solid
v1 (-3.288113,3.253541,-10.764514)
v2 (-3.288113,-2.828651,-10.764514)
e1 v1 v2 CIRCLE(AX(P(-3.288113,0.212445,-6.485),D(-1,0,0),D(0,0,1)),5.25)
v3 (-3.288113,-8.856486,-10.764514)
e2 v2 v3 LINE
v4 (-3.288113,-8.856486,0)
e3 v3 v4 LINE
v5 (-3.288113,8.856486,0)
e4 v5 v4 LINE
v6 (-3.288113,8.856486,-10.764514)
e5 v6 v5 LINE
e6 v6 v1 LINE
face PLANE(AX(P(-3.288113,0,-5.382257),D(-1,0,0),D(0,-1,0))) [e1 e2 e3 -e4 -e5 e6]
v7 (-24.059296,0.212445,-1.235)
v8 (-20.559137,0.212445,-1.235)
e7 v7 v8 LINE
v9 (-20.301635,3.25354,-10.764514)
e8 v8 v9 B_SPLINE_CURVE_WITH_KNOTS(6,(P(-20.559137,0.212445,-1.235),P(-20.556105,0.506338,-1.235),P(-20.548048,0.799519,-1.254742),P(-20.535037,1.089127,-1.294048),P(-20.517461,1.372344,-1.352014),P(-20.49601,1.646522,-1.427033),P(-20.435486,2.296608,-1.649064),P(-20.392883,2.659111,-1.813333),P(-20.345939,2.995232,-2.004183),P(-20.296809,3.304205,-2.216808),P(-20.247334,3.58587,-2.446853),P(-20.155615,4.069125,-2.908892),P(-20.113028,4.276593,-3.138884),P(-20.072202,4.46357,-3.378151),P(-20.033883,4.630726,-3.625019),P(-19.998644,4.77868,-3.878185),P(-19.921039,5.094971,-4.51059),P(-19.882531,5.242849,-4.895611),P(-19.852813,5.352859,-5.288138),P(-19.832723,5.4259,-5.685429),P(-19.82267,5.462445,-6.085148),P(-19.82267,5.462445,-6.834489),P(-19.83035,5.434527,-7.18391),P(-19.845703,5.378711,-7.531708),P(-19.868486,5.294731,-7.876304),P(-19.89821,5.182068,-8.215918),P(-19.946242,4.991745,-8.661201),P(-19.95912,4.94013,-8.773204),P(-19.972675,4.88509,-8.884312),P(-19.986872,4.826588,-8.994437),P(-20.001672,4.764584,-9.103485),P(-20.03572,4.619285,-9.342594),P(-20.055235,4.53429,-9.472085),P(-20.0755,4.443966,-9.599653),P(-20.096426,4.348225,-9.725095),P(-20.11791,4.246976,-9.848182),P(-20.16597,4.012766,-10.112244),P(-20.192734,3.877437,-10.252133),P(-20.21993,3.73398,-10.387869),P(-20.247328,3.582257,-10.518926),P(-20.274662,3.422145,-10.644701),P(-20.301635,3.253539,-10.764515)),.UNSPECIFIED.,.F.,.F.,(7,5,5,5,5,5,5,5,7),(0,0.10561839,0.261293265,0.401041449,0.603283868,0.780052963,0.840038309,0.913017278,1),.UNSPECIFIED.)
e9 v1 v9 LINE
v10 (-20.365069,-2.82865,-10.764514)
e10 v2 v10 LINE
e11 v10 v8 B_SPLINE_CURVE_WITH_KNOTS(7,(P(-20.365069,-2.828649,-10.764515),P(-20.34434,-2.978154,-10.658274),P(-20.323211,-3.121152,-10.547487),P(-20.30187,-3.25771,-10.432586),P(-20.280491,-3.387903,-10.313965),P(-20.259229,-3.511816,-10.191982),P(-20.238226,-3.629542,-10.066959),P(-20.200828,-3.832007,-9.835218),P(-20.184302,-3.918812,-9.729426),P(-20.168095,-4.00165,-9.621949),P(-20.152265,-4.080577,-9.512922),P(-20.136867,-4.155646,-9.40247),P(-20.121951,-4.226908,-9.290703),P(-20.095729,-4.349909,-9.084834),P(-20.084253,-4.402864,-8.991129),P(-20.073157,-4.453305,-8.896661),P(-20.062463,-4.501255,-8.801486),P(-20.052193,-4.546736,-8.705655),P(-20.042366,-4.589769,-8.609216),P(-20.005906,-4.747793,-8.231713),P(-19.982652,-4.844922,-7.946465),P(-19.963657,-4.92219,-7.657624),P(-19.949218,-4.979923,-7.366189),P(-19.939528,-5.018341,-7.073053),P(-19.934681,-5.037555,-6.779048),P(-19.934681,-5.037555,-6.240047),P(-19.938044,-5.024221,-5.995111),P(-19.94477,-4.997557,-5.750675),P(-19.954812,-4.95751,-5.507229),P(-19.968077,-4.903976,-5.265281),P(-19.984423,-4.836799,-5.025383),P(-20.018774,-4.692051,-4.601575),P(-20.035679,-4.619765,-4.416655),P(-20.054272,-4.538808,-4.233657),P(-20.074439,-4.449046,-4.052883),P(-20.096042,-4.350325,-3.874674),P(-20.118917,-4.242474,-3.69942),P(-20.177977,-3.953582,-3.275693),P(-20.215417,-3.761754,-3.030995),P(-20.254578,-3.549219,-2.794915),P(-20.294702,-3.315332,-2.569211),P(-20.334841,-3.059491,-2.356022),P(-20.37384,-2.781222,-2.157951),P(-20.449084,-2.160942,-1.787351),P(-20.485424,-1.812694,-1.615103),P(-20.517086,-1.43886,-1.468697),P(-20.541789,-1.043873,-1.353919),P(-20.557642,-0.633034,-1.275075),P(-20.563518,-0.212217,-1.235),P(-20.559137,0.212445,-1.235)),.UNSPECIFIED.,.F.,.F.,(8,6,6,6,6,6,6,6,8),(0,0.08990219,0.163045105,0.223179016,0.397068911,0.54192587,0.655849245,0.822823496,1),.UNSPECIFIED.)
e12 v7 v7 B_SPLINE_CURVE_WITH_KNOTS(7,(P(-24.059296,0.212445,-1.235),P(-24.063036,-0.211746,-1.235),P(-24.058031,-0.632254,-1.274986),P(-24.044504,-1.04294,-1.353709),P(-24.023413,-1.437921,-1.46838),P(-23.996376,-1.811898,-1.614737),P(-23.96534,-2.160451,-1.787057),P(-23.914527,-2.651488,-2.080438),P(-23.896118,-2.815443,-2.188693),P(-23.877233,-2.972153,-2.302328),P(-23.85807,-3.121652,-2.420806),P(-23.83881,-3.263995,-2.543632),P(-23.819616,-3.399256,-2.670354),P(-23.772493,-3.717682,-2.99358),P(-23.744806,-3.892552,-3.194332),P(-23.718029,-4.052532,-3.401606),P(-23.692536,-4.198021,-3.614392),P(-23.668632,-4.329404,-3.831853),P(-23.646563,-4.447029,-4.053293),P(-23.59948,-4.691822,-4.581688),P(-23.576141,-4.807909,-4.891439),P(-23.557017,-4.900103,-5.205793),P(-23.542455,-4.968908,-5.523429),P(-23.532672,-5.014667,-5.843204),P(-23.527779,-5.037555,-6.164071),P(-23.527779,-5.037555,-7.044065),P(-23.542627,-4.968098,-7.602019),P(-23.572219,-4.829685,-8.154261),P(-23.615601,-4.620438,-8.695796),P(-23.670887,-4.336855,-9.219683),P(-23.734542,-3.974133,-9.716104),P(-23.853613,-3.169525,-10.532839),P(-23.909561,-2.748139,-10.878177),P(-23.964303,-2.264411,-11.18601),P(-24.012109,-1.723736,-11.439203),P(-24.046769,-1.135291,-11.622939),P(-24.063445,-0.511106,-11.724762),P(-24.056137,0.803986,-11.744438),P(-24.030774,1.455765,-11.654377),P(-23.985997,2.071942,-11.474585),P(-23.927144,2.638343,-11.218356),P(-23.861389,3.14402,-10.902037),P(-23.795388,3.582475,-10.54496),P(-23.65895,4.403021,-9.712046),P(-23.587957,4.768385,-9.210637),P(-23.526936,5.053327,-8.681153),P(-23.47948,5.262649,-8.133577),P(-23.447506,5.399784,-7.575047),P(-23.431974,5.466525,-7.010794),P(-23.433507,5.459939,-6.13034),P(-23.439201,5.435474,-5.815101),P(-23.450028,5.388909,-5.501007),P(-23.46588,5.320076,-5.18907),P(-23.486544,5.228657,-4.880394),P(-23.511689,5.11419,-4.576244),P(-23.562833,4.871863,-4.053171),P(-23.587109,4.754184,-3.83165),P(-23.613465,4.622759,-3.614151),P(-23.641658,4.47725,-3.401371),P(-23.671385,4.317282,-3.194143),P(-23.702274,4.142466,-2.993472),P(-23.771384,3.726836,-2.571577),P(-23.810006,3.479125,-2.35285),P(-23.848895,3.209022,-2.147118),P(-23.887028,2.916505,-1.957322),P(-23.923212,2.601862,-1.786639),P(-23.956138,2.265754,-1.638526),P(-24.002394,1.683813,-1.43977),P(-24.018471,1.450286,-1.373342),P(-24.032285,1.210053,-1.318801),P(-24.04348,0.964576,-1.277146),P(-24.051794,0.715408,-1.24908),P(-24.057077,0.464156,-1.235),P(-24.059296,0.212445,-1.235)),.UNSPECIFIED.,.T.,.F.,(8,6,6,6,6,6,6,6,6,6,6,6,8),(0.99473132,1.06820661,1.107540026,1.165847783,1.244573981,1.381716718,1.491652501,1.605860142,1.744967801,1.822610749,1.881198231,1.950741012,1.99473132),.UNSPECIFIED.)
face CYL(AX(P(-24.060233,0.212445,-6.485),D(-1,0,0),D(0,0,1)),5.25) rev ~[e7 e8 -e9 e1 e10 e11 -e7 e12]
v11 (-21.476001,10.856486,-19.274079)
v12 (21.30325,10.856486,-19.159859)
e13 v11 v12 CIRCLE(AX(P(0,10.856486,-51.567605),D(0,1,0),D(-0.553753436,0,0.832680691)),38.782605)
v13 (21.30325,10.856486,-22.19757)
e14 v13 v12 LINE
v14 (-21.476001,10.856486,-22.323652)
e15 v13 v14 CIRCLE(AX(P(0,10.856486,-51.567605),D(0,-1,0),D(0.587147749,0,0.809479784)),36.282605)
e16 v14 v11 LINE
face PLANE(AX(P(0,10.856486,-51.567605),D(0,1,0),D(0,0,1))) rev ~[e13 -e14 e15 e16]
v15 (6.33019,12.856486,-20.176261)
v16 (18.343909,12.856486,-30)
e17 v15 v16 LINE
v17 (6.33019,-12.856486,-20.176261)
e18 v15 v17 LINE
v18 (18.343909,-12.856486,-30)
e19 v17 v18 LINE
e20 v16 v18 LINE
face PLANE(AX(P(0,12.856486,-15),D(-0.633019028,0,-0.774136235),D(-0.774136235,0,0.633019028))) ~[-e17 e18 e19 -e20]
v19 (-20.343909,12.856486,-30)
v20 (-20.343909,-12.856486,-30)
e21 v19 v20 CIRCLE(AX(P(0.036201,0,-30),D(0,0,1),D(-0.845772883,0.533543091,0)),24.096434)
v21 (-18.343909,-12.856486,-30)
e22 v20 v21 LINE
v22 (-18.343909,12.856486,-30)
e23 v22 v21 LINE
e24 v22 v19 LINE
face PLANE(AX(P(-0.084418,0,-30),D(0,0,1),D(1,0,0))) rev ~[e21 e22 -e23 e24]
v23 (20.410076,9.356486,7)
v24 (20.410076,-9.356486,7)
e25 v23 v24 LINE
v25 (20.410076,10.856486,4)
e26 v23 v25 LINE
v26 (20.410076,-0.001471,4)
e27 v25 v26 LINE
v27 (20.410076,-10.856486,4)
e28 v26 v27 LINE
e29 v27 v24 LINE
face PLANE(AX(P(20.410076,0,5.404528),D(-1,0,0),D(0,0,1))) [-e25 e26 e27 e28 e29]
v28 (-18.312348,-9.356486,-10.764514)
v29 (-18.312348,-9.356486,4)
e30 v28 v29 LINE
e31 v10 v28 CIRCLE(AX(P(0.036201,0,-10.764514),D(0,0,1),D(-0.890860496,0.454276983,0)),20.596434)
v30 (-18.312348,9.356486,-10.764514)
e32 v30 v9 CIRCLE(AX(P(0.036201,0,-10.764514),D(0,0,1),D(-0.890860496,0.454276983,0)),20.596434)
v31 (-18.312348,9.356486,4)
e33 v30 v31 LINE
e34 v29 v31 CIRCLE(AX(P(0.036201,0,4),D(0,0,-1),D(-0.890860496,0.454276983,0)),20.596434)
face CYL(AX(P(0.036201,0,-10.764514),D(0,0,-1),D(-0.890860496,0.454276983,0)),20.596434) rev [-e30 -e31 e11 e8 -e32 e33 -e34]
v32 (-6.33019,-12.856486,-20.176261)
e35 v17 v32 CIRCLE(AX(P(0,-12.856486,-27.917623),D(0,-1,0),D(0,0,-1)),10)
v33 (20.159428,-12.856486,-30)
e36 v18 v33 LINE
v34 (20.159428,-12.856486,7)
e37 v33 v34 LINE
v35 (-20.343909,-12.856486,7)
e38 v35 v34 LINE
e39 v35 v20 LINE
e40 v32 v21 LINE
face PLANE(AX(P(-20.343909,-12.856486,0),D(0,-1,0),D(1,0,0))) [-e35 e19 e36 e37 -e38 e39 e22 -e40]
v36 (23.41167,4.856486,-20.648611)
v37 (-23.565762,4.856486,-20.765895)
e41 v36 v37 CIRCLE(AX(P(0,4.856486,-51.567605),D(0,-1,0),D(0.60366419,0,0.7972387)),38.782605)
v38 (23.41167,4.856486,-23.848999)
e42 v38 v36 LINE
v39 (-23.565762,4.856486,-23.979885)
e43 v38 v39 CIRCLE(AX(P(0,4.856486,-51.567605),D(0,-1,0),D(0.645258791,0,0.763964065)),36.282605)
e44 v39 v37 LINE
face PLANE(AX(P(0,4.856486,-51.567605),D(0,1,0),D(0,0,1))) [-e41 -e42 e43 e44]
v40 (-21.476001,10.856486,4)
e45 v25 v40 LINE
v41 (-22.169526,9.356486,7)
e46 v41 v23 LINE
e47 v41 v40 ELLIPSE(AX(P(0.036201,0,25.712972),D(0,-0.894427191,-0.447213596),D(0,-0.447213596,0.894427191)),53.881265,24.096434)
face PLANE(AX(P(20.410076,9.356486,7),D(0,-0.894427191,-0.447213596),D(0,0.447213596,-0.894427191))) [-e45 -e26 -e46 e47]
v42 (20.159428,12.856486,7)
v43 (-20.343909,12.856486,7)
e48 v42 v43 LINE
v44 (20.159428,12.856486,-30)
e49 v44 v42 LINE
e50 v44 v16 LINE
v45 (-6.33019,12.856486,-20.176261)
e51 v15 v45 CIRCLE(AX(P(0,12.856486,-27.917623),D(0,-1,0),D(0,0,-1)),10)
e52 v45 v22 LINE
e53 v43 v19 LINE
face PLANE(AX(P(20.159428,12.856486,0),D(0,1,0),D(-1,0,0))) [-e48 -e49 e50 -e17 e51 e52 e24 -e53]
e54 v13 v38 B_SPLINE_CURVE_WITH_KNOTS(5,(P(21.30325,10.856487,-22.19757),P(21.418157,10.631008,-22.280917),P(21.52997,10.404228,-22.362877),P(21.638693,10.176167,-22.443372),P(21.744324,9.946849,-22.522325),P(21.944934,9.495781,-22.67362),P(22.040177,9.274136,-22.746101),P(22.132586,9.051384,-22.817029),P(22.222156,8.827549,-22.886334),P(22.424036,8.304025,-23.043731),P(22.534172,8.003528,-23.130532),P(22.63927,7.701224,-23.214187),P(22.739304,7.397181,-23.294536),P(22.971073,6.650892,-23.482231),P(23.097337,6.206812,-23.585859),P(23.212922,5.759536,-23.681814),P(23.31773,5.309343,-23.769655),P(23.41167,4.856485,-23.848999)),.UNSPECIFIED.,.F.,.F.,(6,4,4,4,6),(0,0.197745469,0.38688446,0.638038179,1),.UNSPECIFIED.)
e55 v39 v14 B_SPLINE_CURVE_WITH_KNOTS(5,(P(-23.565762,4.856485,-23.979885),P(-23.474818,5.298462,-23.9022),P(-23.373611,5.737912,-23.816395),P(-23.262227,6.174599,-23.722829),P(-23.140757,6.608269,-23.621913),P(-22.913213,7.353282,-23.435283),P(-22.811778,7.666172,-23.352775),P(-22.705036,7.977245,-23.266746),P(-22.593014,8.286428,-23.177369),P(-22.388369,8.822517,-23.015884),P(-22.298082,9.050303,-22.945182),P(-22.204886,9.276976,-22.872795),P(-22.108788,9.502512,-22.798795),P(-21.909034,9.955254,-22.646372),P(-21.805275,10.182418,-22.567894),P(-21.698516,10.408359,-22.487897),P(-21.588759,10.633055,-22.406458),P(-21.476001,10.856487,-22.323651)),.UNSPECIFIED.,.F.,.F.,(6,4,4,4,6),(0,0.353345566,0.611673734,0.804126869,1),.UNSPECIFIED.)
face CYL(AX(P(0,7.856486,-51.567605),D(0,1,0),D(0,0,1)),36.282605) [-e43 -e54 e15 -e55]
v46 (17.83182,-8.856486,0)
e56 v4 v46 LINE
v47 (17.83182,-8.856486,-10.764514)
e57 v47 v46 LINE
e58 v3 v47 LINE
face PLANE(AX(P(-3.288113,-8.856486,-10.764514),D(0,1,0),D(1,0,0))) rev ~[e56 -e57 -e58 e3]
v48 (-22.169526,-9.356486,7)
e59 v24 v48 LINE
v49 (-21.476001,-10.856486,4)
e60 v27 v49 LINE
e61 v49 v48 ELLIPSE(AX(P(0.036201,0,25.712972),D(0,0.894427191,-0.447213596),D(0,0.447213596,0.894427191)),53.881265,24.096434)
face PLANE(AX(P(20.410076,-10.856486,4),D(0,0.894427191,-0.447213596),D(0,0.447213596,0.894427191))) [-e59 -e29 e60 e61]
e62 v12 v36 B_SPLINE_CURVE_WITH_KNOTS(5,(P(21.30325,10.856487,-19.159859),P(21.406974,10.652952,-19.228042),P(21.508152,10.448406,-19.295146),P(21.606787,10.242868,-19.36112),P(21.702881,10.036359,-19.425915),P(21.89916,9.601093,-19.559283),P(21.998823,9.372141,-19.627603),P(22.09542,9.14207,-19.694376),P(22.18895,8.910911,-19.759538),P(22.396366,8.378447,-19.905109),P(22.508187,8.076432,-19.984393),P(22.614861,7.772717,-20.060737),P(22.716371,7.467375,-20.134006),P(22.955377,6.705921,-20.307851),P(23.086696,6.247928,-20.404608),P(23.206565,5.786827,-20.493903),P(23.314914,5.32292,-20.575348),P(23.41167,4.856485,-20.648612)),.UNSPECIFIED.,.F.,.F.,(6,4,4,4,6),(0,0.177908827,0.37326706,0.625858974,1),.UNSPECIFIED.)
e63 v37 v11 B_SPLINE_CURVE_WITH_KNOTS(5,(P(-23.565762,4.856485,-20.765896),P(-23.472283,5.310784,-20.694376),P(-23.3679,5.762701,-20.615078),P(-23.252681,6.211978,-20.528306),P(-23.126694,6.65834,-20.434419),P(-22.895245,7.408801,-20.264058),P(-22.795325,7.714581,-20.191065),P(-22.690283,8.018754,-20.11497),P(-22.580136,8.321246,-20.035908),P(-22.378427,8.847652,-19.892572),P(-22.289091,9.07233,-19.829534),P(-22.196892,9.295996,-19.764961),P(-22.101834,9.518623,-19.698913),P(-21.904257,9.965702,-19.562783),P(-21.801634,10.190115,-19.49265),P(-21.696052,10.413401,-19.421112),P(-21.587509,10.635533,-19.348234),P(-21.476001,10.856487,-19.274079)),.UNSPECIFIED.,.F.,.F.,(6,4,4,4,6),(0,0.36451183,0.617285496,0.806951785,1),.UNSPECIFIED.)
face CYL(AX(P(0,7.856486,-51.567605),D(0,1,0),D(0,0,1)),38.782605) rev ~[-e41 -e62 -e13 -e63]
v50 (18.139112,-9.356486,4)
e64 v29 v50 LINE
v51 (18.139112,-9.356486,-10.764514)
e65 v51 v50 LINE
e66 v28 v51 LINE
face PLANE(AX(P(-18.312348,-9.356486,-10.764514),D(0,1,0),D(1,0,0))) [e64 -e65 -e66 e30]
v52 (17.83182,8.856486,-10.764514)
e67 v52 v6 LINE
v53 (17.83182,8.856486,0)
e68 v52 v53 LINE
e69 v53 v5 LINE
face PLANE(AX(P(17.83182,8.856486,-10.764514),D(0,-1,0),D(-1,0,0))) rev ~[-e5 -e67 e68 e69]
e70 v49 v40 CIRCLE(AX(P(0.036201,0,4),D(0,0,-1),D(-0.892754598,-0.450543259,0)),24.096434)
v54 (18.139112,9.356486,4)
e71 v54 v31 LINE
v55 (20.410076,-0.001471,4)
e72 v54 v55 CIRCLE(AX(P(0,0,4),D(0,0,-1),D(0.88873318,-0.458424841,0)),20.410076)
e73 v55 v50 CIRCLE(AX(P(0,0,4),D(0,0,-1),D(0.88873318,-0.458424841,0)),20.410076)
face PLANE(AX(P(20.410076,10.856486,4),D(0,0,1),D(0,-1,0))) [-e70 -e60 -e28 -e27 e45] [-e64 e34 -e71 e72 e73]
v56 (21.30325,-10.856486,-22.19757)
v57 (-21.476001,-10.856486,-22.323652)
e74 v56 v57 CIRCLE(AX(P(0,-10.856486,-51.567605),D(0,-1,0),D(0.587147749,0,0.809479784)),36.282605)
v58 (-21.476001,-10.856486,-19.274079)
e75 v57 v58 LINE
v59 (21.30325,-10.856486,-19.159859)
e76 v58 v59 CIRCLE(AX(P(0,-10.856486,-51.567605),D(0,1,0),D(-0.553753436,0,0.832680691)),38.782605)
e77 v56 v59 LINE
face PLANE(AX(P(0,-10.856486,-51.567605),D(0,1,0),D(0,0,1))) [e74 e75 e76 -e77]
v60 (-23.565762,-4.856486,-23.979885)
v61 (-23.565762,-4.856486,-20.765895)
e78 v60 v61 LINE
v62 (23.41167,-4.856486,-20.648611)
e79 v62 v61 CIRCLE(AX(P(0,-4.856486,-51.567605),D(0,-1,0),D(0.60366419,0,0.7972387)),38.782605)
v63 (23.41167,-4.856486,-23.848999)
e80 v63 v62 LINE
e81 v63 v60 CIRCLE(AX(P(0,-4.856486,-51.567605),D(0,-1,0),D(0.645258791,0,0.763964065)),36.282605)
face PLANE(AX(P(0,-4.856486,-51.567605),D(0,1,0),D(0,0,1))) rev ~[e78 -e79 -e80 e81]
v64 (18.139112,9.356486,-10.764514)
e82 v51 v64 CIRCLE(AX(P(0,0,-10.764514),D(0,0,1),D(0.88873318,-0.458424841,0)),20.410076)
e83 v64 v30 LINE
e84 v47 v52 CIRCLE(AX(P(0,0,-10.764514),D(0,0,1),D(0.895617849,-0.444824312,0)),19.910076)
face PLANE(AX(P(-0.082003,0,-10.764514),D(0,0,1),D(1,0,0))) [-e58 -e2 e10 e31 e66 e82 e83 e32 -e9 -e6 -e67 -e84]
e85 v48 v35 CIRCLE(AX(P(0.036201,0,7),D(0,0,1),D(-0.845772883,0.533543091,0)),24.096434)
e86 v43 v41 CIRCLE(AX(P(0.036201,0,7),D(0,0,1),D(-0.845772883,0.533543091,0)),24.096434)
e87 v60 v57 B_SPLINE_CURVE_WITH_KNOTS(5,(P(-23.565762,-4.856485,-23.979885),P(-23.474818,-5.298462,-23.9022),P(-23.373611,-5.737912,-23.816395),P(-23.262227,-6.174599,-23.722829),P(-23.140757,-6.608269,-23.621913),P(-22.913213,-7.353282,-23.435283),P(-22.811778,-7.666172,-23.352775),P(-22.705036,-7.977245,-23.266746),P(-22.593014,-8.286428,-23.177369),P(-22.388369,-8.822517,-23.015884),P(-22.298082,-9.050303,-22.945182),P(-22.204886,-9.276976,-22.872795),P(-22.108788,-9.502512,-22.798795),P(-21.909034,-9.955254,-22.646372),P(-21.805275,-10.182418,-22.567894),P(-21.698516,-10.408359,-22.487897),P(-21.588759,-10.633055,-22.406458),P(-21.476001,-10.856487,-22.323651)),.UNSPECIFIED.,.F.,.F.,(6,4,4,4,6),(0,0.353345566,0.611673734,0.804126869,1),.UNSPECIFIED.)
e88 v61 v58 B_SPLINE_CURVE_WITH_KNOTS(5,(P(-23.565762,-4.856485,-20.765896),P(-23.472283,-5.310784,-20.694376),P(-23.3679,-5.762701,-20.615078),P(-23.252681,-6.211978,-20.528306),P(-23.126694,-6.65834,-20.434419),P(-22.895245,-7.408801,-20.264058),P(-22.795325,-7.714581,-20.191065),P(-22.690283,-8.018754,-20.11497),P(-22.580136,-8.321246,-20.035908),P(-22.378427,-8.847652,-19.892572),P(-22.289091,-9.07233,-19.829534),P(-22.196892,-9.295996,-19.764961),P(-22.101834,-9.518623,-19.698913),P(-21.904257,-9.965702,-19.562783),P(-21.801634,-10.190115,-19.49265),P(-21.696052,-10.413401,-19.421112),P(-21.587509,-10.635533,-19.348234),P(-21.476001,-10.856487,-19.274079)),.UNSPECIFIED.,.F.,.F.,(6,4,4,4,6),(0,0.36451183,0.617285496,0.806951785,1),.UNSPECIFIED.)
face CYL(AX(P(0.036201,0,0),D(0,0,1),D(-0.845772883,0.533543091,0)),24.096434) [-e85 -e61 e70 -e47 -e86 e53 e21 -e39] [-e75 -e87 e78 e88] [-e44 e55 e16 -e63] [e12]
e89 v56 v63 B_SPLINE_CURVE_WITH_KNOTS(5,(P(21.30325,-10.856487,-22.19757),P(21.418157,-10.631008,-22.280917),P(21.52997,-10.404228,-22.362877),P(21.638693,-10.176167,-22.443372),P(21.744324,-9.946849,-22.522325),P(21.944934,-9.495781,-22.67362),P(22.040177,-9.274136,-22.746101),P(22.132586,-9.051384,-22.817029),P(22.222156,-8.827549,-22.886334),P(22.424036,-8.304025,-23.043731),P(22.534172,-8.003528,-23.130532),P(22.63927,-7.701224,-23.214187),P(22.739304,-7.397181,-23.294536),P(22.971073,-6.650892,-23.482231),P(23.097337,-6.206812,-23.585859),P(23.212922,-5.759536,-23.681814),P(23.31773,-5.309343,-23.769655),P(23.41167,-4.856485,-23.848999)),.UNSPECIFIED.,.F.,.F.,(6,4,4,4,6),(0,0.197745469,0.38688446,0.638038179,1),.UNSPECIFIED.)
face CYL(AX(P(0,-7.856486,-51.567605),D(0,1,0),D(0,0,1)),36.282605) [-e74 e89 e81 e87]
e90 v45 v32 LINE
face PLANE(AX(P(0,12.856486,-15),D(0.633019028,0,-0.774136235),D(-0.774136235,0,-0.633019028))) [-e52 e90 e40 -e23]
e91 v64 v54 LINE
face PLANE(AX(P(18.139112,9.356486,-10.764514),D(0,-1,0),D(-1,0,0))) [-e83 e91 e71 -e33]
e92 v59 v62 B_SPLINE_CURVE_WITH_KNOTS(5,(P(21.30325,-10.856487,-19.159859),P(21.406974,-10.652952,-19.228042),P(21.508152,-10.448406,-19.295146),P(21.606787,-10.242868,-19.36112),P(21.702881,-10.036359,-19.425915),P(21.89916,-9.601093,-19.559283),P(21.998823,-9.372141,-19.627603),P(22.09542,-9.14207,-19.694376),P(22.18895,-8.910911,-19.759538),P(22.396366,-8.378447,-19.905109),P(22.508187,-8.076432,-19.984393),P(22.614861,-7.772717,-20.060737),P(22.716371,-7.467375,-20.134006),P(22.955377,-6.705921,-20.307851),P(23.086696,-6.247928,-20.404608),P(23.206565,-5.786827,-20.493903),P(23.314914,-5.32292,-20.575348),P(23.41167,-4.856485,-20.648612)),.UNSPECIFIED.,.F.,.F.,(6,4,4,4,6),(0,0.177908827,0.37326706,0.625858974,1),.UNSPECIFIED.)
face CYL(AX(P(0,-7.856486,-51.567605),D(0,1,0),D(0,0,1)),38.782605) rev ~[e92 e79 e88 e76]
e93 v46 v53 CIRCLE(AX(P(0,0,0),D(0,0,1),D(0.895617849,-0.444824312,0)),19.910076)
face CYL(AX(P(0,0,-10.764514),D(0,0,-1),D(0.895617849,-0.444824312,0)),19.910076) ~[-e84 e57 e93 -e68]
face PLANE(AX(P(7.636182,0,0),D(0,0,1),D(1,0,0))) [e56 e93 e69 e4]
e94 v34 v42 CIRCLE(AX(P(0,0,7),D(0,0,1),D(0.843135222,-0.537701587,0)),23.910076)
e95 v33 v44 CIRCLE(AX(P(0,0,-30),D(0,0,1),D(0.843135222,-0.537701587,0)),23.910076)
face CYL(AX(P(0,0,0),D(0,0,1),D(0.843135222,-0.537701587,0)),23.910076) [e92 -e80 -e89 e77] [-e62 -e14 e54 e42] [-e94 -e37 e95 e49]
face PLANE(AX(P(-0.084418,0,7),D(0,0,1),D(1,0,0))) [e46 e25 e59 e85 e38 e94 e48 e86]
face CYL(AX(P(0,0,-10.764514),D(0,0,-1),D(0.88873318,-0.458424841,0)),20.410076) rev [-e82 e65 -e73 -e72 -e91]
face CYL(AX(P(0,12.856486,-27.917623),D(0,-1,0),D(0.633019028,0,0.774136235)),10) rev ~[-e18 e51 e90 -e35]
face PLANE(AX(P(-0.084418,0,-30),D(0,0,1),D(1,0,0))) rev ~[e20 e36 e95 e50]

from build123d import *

# Parameters (mm, degrees)
BOSS_EXTRUDE2_DEPTH      = 7
BOSS_EXTRUDE2_DEPTH_BACK = 30
CUT_EXTRUDE1_DEPTH       = 25.712971991
FILLET1_R                = 10
CUT_EXTRUDE2_START       = -17.764514
CUT_EXTRUDE2_DEPTH       = 17.764514
BOSS_EXTRUDE3_DEPTH      = 10.764514
CUT_EXTRUDE3_REACH       = 60.021
SKETCH11_R               = 5.25
SKETCH12_W               = 2.5
SKETCH12_H               = 6
CUT_EXTRUDE10_START      = -44.470309
CUT_EXTRUDE10_DEPTH      = 44.470309


with BuildPart() as part:
    # Sketch7 → Boss-Extrude2 (new, two sides)
    with BuildSketch(Plane.XY) as boss_extrude2_sk:
        with BuildLine():
            Line((-20.343909144, -12.856485995), (20.159427524, -12.856485995))
            ThreePointArc((20.159427524, -12.856485995), (23.910076333, 0), (20.159427524, 12.856485995))
            Line((20.159427524, 12.856485995), (-20.343909144, 12.856485995))
            ThreePointArc((-20.343909144, 12.856485995), (-24.06023272, 0), (-20.343909144, -12.856485995))
        make_face()
    extrude(amount=BOSS_EXTRUDE2_DEPTH)
    extrude(boss_extrude2_sk.sketch, amount=-BOSS_EXTRUDE2_DEPTH_BACK)

    # Sketch8 → Cut-Extrude1 (cut)
    with BuildSketch(Plane(origin=(0, 12.856485995, 0), x_dir=(1, 0, 0), z_dir=(0, 1, 0))):
        Polygon((-18.343909144, 30), (0, 30), (0, 15), align=None)
    cut_extrude1 = extrude(amount=-CUT_EXTRUDE1_DEPTH, mode=Mode.SUBTRACT)

    # Mirror1: Cut-Extrude1 across plane
    add(cut_extrude1.mirror(Plane(origin=(0, 0, 0), x_dir=(0, 0, 1), z_dir=(1, 0, 0))), mode=Mode.SUBTRACT)

    # Fillet1
    fillet1_edges = [part.edges().sort_by_distance(p)[0] for p in [
        (0, 0, -15),
    ]]
    fillet(fillet1_edges, radius=FILLET1_R)

    # Sketch9 → Cut-Extrude2 (cut)
    with BuildSketch(Plane.XY.offset(7).offset(CUT_EXTRUDE2_START)):
        with BuildLine():
            Line((-18.312348097, -9.356485995), (18.139112044, -9.356485995))
            ThreePointArc((18.139112044, -9.356485995), (20.410076333, 0), (18.139112044, 9.356485995))
            Line((18.139112044, 9.356485995), (-18.312348097, 9.356485995))
            ThreePointArc((-18.312348097, 9.356485995), (-20.56023272, 0), (-18.312348097, -9.356485995))
        make_face()
    extrude(amount=CUT_EXTRUDE2_DEPTH, mode=Mode.SUBTRACT)


with BuildPart() as boss_extrude3_tool:
    # Sketch10 → Boss-Extrude3 (new body)
    with BuildSketch(Plane(origin=(0, 0, -10.764513537), x_dir=(-1, 0, 0), z_dir=(0, 0, -1))):
        with BuildLine():
            Line((3.288113076, 8.856485995), (3.288113076, -8.856485995))
            Line((3.288113076, -8.856485995), (-17.831819744, -8.856485995))
            ThreePointArc((-17.831819744, -8.856485995), (-19.910076333, 0), (-17.831819744, 8.856485995))
            Line((-17.831819744, 8.856485995), (3.288113076, 8.856485995))
        make_face()
    extrude(amount=-BOSS_EXTRUDE3_DEPTH)


with BuildPart() as part_1:
    add(part.part)


with BuildPart() as part_2:
    # Boss-Extrude3: joined with boss_extrude3_tool
    add(part_1.part.fuse(boss_extrude3_tool.part, tol=0.00001))

    # Cut-Extrude3: up to this face of the body (flat: up to its plane)
    cut_extrude3_end = Plane(part_2.part.faces().sort_by_distance((-3.288113076, 0, -5.382256537))[0])
    # Sketch11 → Cut-Extrude3 (cut, up to the picked face)
    with BuildSketch(Plane.ZY.offset(24.06023272), mode=Mode.PRIVATE) as cut_extrude3_sk1:
        with Locations((-6.485, 0.212445037)):
            Circle(SKETCH11_R)
    cut_extrude3_tool1 = split(extrude(cut_extrude3_sk1.sketch, amount=-CUT_EXTRUDE3_REACH, mode=Mode.PRIVATE), bisect_by=cut_extrude3_end, keep=Keep.BOTH, mode=Mode.PRIVATE)
    add(cut_extrude3_tool1.solids().sort_by(Axis((-24.060233, 0.212445, -6.485), (1, 0, 0)))[0], mode=Mode.SUBTRACT)

    # Sketch12 → Cut-Revolve1 (revolve, cut)
    with BuildSketch(Plane(origin=(0, 0, 0), x_dir=(0, 0, -1), z_dir=(1, 0, 0))):
        with Locations((14.035, 7.856485995)):
            Rectangle(SKETCH12_W, SKETCH12_H)
        with Locations((14.035, -7.856485995)):
            Rectangle(SKETCH12_W, SKETCH12_H)
    revolve(axis=Axis((0, -85.887973373, -51.567605329), (0, 1, 0)), mode=Mode.SUBTRACT)

    # Sketch14 → Cut-Extrude10 (cut)
    with BuildSketch(Plane.ZY.offset(24.06023272).offset(CUT_EXTRUDE10_START)):
        Polygon((7, 9.356485995), (4, 10.856485995), (4, -10.856485995), (7, -9.356485995), align=None)
    extrude(amount=CUT_EXTRUDE10_DEPTH, mode=Mode.SUBTRACT)


solid = part_2.part
